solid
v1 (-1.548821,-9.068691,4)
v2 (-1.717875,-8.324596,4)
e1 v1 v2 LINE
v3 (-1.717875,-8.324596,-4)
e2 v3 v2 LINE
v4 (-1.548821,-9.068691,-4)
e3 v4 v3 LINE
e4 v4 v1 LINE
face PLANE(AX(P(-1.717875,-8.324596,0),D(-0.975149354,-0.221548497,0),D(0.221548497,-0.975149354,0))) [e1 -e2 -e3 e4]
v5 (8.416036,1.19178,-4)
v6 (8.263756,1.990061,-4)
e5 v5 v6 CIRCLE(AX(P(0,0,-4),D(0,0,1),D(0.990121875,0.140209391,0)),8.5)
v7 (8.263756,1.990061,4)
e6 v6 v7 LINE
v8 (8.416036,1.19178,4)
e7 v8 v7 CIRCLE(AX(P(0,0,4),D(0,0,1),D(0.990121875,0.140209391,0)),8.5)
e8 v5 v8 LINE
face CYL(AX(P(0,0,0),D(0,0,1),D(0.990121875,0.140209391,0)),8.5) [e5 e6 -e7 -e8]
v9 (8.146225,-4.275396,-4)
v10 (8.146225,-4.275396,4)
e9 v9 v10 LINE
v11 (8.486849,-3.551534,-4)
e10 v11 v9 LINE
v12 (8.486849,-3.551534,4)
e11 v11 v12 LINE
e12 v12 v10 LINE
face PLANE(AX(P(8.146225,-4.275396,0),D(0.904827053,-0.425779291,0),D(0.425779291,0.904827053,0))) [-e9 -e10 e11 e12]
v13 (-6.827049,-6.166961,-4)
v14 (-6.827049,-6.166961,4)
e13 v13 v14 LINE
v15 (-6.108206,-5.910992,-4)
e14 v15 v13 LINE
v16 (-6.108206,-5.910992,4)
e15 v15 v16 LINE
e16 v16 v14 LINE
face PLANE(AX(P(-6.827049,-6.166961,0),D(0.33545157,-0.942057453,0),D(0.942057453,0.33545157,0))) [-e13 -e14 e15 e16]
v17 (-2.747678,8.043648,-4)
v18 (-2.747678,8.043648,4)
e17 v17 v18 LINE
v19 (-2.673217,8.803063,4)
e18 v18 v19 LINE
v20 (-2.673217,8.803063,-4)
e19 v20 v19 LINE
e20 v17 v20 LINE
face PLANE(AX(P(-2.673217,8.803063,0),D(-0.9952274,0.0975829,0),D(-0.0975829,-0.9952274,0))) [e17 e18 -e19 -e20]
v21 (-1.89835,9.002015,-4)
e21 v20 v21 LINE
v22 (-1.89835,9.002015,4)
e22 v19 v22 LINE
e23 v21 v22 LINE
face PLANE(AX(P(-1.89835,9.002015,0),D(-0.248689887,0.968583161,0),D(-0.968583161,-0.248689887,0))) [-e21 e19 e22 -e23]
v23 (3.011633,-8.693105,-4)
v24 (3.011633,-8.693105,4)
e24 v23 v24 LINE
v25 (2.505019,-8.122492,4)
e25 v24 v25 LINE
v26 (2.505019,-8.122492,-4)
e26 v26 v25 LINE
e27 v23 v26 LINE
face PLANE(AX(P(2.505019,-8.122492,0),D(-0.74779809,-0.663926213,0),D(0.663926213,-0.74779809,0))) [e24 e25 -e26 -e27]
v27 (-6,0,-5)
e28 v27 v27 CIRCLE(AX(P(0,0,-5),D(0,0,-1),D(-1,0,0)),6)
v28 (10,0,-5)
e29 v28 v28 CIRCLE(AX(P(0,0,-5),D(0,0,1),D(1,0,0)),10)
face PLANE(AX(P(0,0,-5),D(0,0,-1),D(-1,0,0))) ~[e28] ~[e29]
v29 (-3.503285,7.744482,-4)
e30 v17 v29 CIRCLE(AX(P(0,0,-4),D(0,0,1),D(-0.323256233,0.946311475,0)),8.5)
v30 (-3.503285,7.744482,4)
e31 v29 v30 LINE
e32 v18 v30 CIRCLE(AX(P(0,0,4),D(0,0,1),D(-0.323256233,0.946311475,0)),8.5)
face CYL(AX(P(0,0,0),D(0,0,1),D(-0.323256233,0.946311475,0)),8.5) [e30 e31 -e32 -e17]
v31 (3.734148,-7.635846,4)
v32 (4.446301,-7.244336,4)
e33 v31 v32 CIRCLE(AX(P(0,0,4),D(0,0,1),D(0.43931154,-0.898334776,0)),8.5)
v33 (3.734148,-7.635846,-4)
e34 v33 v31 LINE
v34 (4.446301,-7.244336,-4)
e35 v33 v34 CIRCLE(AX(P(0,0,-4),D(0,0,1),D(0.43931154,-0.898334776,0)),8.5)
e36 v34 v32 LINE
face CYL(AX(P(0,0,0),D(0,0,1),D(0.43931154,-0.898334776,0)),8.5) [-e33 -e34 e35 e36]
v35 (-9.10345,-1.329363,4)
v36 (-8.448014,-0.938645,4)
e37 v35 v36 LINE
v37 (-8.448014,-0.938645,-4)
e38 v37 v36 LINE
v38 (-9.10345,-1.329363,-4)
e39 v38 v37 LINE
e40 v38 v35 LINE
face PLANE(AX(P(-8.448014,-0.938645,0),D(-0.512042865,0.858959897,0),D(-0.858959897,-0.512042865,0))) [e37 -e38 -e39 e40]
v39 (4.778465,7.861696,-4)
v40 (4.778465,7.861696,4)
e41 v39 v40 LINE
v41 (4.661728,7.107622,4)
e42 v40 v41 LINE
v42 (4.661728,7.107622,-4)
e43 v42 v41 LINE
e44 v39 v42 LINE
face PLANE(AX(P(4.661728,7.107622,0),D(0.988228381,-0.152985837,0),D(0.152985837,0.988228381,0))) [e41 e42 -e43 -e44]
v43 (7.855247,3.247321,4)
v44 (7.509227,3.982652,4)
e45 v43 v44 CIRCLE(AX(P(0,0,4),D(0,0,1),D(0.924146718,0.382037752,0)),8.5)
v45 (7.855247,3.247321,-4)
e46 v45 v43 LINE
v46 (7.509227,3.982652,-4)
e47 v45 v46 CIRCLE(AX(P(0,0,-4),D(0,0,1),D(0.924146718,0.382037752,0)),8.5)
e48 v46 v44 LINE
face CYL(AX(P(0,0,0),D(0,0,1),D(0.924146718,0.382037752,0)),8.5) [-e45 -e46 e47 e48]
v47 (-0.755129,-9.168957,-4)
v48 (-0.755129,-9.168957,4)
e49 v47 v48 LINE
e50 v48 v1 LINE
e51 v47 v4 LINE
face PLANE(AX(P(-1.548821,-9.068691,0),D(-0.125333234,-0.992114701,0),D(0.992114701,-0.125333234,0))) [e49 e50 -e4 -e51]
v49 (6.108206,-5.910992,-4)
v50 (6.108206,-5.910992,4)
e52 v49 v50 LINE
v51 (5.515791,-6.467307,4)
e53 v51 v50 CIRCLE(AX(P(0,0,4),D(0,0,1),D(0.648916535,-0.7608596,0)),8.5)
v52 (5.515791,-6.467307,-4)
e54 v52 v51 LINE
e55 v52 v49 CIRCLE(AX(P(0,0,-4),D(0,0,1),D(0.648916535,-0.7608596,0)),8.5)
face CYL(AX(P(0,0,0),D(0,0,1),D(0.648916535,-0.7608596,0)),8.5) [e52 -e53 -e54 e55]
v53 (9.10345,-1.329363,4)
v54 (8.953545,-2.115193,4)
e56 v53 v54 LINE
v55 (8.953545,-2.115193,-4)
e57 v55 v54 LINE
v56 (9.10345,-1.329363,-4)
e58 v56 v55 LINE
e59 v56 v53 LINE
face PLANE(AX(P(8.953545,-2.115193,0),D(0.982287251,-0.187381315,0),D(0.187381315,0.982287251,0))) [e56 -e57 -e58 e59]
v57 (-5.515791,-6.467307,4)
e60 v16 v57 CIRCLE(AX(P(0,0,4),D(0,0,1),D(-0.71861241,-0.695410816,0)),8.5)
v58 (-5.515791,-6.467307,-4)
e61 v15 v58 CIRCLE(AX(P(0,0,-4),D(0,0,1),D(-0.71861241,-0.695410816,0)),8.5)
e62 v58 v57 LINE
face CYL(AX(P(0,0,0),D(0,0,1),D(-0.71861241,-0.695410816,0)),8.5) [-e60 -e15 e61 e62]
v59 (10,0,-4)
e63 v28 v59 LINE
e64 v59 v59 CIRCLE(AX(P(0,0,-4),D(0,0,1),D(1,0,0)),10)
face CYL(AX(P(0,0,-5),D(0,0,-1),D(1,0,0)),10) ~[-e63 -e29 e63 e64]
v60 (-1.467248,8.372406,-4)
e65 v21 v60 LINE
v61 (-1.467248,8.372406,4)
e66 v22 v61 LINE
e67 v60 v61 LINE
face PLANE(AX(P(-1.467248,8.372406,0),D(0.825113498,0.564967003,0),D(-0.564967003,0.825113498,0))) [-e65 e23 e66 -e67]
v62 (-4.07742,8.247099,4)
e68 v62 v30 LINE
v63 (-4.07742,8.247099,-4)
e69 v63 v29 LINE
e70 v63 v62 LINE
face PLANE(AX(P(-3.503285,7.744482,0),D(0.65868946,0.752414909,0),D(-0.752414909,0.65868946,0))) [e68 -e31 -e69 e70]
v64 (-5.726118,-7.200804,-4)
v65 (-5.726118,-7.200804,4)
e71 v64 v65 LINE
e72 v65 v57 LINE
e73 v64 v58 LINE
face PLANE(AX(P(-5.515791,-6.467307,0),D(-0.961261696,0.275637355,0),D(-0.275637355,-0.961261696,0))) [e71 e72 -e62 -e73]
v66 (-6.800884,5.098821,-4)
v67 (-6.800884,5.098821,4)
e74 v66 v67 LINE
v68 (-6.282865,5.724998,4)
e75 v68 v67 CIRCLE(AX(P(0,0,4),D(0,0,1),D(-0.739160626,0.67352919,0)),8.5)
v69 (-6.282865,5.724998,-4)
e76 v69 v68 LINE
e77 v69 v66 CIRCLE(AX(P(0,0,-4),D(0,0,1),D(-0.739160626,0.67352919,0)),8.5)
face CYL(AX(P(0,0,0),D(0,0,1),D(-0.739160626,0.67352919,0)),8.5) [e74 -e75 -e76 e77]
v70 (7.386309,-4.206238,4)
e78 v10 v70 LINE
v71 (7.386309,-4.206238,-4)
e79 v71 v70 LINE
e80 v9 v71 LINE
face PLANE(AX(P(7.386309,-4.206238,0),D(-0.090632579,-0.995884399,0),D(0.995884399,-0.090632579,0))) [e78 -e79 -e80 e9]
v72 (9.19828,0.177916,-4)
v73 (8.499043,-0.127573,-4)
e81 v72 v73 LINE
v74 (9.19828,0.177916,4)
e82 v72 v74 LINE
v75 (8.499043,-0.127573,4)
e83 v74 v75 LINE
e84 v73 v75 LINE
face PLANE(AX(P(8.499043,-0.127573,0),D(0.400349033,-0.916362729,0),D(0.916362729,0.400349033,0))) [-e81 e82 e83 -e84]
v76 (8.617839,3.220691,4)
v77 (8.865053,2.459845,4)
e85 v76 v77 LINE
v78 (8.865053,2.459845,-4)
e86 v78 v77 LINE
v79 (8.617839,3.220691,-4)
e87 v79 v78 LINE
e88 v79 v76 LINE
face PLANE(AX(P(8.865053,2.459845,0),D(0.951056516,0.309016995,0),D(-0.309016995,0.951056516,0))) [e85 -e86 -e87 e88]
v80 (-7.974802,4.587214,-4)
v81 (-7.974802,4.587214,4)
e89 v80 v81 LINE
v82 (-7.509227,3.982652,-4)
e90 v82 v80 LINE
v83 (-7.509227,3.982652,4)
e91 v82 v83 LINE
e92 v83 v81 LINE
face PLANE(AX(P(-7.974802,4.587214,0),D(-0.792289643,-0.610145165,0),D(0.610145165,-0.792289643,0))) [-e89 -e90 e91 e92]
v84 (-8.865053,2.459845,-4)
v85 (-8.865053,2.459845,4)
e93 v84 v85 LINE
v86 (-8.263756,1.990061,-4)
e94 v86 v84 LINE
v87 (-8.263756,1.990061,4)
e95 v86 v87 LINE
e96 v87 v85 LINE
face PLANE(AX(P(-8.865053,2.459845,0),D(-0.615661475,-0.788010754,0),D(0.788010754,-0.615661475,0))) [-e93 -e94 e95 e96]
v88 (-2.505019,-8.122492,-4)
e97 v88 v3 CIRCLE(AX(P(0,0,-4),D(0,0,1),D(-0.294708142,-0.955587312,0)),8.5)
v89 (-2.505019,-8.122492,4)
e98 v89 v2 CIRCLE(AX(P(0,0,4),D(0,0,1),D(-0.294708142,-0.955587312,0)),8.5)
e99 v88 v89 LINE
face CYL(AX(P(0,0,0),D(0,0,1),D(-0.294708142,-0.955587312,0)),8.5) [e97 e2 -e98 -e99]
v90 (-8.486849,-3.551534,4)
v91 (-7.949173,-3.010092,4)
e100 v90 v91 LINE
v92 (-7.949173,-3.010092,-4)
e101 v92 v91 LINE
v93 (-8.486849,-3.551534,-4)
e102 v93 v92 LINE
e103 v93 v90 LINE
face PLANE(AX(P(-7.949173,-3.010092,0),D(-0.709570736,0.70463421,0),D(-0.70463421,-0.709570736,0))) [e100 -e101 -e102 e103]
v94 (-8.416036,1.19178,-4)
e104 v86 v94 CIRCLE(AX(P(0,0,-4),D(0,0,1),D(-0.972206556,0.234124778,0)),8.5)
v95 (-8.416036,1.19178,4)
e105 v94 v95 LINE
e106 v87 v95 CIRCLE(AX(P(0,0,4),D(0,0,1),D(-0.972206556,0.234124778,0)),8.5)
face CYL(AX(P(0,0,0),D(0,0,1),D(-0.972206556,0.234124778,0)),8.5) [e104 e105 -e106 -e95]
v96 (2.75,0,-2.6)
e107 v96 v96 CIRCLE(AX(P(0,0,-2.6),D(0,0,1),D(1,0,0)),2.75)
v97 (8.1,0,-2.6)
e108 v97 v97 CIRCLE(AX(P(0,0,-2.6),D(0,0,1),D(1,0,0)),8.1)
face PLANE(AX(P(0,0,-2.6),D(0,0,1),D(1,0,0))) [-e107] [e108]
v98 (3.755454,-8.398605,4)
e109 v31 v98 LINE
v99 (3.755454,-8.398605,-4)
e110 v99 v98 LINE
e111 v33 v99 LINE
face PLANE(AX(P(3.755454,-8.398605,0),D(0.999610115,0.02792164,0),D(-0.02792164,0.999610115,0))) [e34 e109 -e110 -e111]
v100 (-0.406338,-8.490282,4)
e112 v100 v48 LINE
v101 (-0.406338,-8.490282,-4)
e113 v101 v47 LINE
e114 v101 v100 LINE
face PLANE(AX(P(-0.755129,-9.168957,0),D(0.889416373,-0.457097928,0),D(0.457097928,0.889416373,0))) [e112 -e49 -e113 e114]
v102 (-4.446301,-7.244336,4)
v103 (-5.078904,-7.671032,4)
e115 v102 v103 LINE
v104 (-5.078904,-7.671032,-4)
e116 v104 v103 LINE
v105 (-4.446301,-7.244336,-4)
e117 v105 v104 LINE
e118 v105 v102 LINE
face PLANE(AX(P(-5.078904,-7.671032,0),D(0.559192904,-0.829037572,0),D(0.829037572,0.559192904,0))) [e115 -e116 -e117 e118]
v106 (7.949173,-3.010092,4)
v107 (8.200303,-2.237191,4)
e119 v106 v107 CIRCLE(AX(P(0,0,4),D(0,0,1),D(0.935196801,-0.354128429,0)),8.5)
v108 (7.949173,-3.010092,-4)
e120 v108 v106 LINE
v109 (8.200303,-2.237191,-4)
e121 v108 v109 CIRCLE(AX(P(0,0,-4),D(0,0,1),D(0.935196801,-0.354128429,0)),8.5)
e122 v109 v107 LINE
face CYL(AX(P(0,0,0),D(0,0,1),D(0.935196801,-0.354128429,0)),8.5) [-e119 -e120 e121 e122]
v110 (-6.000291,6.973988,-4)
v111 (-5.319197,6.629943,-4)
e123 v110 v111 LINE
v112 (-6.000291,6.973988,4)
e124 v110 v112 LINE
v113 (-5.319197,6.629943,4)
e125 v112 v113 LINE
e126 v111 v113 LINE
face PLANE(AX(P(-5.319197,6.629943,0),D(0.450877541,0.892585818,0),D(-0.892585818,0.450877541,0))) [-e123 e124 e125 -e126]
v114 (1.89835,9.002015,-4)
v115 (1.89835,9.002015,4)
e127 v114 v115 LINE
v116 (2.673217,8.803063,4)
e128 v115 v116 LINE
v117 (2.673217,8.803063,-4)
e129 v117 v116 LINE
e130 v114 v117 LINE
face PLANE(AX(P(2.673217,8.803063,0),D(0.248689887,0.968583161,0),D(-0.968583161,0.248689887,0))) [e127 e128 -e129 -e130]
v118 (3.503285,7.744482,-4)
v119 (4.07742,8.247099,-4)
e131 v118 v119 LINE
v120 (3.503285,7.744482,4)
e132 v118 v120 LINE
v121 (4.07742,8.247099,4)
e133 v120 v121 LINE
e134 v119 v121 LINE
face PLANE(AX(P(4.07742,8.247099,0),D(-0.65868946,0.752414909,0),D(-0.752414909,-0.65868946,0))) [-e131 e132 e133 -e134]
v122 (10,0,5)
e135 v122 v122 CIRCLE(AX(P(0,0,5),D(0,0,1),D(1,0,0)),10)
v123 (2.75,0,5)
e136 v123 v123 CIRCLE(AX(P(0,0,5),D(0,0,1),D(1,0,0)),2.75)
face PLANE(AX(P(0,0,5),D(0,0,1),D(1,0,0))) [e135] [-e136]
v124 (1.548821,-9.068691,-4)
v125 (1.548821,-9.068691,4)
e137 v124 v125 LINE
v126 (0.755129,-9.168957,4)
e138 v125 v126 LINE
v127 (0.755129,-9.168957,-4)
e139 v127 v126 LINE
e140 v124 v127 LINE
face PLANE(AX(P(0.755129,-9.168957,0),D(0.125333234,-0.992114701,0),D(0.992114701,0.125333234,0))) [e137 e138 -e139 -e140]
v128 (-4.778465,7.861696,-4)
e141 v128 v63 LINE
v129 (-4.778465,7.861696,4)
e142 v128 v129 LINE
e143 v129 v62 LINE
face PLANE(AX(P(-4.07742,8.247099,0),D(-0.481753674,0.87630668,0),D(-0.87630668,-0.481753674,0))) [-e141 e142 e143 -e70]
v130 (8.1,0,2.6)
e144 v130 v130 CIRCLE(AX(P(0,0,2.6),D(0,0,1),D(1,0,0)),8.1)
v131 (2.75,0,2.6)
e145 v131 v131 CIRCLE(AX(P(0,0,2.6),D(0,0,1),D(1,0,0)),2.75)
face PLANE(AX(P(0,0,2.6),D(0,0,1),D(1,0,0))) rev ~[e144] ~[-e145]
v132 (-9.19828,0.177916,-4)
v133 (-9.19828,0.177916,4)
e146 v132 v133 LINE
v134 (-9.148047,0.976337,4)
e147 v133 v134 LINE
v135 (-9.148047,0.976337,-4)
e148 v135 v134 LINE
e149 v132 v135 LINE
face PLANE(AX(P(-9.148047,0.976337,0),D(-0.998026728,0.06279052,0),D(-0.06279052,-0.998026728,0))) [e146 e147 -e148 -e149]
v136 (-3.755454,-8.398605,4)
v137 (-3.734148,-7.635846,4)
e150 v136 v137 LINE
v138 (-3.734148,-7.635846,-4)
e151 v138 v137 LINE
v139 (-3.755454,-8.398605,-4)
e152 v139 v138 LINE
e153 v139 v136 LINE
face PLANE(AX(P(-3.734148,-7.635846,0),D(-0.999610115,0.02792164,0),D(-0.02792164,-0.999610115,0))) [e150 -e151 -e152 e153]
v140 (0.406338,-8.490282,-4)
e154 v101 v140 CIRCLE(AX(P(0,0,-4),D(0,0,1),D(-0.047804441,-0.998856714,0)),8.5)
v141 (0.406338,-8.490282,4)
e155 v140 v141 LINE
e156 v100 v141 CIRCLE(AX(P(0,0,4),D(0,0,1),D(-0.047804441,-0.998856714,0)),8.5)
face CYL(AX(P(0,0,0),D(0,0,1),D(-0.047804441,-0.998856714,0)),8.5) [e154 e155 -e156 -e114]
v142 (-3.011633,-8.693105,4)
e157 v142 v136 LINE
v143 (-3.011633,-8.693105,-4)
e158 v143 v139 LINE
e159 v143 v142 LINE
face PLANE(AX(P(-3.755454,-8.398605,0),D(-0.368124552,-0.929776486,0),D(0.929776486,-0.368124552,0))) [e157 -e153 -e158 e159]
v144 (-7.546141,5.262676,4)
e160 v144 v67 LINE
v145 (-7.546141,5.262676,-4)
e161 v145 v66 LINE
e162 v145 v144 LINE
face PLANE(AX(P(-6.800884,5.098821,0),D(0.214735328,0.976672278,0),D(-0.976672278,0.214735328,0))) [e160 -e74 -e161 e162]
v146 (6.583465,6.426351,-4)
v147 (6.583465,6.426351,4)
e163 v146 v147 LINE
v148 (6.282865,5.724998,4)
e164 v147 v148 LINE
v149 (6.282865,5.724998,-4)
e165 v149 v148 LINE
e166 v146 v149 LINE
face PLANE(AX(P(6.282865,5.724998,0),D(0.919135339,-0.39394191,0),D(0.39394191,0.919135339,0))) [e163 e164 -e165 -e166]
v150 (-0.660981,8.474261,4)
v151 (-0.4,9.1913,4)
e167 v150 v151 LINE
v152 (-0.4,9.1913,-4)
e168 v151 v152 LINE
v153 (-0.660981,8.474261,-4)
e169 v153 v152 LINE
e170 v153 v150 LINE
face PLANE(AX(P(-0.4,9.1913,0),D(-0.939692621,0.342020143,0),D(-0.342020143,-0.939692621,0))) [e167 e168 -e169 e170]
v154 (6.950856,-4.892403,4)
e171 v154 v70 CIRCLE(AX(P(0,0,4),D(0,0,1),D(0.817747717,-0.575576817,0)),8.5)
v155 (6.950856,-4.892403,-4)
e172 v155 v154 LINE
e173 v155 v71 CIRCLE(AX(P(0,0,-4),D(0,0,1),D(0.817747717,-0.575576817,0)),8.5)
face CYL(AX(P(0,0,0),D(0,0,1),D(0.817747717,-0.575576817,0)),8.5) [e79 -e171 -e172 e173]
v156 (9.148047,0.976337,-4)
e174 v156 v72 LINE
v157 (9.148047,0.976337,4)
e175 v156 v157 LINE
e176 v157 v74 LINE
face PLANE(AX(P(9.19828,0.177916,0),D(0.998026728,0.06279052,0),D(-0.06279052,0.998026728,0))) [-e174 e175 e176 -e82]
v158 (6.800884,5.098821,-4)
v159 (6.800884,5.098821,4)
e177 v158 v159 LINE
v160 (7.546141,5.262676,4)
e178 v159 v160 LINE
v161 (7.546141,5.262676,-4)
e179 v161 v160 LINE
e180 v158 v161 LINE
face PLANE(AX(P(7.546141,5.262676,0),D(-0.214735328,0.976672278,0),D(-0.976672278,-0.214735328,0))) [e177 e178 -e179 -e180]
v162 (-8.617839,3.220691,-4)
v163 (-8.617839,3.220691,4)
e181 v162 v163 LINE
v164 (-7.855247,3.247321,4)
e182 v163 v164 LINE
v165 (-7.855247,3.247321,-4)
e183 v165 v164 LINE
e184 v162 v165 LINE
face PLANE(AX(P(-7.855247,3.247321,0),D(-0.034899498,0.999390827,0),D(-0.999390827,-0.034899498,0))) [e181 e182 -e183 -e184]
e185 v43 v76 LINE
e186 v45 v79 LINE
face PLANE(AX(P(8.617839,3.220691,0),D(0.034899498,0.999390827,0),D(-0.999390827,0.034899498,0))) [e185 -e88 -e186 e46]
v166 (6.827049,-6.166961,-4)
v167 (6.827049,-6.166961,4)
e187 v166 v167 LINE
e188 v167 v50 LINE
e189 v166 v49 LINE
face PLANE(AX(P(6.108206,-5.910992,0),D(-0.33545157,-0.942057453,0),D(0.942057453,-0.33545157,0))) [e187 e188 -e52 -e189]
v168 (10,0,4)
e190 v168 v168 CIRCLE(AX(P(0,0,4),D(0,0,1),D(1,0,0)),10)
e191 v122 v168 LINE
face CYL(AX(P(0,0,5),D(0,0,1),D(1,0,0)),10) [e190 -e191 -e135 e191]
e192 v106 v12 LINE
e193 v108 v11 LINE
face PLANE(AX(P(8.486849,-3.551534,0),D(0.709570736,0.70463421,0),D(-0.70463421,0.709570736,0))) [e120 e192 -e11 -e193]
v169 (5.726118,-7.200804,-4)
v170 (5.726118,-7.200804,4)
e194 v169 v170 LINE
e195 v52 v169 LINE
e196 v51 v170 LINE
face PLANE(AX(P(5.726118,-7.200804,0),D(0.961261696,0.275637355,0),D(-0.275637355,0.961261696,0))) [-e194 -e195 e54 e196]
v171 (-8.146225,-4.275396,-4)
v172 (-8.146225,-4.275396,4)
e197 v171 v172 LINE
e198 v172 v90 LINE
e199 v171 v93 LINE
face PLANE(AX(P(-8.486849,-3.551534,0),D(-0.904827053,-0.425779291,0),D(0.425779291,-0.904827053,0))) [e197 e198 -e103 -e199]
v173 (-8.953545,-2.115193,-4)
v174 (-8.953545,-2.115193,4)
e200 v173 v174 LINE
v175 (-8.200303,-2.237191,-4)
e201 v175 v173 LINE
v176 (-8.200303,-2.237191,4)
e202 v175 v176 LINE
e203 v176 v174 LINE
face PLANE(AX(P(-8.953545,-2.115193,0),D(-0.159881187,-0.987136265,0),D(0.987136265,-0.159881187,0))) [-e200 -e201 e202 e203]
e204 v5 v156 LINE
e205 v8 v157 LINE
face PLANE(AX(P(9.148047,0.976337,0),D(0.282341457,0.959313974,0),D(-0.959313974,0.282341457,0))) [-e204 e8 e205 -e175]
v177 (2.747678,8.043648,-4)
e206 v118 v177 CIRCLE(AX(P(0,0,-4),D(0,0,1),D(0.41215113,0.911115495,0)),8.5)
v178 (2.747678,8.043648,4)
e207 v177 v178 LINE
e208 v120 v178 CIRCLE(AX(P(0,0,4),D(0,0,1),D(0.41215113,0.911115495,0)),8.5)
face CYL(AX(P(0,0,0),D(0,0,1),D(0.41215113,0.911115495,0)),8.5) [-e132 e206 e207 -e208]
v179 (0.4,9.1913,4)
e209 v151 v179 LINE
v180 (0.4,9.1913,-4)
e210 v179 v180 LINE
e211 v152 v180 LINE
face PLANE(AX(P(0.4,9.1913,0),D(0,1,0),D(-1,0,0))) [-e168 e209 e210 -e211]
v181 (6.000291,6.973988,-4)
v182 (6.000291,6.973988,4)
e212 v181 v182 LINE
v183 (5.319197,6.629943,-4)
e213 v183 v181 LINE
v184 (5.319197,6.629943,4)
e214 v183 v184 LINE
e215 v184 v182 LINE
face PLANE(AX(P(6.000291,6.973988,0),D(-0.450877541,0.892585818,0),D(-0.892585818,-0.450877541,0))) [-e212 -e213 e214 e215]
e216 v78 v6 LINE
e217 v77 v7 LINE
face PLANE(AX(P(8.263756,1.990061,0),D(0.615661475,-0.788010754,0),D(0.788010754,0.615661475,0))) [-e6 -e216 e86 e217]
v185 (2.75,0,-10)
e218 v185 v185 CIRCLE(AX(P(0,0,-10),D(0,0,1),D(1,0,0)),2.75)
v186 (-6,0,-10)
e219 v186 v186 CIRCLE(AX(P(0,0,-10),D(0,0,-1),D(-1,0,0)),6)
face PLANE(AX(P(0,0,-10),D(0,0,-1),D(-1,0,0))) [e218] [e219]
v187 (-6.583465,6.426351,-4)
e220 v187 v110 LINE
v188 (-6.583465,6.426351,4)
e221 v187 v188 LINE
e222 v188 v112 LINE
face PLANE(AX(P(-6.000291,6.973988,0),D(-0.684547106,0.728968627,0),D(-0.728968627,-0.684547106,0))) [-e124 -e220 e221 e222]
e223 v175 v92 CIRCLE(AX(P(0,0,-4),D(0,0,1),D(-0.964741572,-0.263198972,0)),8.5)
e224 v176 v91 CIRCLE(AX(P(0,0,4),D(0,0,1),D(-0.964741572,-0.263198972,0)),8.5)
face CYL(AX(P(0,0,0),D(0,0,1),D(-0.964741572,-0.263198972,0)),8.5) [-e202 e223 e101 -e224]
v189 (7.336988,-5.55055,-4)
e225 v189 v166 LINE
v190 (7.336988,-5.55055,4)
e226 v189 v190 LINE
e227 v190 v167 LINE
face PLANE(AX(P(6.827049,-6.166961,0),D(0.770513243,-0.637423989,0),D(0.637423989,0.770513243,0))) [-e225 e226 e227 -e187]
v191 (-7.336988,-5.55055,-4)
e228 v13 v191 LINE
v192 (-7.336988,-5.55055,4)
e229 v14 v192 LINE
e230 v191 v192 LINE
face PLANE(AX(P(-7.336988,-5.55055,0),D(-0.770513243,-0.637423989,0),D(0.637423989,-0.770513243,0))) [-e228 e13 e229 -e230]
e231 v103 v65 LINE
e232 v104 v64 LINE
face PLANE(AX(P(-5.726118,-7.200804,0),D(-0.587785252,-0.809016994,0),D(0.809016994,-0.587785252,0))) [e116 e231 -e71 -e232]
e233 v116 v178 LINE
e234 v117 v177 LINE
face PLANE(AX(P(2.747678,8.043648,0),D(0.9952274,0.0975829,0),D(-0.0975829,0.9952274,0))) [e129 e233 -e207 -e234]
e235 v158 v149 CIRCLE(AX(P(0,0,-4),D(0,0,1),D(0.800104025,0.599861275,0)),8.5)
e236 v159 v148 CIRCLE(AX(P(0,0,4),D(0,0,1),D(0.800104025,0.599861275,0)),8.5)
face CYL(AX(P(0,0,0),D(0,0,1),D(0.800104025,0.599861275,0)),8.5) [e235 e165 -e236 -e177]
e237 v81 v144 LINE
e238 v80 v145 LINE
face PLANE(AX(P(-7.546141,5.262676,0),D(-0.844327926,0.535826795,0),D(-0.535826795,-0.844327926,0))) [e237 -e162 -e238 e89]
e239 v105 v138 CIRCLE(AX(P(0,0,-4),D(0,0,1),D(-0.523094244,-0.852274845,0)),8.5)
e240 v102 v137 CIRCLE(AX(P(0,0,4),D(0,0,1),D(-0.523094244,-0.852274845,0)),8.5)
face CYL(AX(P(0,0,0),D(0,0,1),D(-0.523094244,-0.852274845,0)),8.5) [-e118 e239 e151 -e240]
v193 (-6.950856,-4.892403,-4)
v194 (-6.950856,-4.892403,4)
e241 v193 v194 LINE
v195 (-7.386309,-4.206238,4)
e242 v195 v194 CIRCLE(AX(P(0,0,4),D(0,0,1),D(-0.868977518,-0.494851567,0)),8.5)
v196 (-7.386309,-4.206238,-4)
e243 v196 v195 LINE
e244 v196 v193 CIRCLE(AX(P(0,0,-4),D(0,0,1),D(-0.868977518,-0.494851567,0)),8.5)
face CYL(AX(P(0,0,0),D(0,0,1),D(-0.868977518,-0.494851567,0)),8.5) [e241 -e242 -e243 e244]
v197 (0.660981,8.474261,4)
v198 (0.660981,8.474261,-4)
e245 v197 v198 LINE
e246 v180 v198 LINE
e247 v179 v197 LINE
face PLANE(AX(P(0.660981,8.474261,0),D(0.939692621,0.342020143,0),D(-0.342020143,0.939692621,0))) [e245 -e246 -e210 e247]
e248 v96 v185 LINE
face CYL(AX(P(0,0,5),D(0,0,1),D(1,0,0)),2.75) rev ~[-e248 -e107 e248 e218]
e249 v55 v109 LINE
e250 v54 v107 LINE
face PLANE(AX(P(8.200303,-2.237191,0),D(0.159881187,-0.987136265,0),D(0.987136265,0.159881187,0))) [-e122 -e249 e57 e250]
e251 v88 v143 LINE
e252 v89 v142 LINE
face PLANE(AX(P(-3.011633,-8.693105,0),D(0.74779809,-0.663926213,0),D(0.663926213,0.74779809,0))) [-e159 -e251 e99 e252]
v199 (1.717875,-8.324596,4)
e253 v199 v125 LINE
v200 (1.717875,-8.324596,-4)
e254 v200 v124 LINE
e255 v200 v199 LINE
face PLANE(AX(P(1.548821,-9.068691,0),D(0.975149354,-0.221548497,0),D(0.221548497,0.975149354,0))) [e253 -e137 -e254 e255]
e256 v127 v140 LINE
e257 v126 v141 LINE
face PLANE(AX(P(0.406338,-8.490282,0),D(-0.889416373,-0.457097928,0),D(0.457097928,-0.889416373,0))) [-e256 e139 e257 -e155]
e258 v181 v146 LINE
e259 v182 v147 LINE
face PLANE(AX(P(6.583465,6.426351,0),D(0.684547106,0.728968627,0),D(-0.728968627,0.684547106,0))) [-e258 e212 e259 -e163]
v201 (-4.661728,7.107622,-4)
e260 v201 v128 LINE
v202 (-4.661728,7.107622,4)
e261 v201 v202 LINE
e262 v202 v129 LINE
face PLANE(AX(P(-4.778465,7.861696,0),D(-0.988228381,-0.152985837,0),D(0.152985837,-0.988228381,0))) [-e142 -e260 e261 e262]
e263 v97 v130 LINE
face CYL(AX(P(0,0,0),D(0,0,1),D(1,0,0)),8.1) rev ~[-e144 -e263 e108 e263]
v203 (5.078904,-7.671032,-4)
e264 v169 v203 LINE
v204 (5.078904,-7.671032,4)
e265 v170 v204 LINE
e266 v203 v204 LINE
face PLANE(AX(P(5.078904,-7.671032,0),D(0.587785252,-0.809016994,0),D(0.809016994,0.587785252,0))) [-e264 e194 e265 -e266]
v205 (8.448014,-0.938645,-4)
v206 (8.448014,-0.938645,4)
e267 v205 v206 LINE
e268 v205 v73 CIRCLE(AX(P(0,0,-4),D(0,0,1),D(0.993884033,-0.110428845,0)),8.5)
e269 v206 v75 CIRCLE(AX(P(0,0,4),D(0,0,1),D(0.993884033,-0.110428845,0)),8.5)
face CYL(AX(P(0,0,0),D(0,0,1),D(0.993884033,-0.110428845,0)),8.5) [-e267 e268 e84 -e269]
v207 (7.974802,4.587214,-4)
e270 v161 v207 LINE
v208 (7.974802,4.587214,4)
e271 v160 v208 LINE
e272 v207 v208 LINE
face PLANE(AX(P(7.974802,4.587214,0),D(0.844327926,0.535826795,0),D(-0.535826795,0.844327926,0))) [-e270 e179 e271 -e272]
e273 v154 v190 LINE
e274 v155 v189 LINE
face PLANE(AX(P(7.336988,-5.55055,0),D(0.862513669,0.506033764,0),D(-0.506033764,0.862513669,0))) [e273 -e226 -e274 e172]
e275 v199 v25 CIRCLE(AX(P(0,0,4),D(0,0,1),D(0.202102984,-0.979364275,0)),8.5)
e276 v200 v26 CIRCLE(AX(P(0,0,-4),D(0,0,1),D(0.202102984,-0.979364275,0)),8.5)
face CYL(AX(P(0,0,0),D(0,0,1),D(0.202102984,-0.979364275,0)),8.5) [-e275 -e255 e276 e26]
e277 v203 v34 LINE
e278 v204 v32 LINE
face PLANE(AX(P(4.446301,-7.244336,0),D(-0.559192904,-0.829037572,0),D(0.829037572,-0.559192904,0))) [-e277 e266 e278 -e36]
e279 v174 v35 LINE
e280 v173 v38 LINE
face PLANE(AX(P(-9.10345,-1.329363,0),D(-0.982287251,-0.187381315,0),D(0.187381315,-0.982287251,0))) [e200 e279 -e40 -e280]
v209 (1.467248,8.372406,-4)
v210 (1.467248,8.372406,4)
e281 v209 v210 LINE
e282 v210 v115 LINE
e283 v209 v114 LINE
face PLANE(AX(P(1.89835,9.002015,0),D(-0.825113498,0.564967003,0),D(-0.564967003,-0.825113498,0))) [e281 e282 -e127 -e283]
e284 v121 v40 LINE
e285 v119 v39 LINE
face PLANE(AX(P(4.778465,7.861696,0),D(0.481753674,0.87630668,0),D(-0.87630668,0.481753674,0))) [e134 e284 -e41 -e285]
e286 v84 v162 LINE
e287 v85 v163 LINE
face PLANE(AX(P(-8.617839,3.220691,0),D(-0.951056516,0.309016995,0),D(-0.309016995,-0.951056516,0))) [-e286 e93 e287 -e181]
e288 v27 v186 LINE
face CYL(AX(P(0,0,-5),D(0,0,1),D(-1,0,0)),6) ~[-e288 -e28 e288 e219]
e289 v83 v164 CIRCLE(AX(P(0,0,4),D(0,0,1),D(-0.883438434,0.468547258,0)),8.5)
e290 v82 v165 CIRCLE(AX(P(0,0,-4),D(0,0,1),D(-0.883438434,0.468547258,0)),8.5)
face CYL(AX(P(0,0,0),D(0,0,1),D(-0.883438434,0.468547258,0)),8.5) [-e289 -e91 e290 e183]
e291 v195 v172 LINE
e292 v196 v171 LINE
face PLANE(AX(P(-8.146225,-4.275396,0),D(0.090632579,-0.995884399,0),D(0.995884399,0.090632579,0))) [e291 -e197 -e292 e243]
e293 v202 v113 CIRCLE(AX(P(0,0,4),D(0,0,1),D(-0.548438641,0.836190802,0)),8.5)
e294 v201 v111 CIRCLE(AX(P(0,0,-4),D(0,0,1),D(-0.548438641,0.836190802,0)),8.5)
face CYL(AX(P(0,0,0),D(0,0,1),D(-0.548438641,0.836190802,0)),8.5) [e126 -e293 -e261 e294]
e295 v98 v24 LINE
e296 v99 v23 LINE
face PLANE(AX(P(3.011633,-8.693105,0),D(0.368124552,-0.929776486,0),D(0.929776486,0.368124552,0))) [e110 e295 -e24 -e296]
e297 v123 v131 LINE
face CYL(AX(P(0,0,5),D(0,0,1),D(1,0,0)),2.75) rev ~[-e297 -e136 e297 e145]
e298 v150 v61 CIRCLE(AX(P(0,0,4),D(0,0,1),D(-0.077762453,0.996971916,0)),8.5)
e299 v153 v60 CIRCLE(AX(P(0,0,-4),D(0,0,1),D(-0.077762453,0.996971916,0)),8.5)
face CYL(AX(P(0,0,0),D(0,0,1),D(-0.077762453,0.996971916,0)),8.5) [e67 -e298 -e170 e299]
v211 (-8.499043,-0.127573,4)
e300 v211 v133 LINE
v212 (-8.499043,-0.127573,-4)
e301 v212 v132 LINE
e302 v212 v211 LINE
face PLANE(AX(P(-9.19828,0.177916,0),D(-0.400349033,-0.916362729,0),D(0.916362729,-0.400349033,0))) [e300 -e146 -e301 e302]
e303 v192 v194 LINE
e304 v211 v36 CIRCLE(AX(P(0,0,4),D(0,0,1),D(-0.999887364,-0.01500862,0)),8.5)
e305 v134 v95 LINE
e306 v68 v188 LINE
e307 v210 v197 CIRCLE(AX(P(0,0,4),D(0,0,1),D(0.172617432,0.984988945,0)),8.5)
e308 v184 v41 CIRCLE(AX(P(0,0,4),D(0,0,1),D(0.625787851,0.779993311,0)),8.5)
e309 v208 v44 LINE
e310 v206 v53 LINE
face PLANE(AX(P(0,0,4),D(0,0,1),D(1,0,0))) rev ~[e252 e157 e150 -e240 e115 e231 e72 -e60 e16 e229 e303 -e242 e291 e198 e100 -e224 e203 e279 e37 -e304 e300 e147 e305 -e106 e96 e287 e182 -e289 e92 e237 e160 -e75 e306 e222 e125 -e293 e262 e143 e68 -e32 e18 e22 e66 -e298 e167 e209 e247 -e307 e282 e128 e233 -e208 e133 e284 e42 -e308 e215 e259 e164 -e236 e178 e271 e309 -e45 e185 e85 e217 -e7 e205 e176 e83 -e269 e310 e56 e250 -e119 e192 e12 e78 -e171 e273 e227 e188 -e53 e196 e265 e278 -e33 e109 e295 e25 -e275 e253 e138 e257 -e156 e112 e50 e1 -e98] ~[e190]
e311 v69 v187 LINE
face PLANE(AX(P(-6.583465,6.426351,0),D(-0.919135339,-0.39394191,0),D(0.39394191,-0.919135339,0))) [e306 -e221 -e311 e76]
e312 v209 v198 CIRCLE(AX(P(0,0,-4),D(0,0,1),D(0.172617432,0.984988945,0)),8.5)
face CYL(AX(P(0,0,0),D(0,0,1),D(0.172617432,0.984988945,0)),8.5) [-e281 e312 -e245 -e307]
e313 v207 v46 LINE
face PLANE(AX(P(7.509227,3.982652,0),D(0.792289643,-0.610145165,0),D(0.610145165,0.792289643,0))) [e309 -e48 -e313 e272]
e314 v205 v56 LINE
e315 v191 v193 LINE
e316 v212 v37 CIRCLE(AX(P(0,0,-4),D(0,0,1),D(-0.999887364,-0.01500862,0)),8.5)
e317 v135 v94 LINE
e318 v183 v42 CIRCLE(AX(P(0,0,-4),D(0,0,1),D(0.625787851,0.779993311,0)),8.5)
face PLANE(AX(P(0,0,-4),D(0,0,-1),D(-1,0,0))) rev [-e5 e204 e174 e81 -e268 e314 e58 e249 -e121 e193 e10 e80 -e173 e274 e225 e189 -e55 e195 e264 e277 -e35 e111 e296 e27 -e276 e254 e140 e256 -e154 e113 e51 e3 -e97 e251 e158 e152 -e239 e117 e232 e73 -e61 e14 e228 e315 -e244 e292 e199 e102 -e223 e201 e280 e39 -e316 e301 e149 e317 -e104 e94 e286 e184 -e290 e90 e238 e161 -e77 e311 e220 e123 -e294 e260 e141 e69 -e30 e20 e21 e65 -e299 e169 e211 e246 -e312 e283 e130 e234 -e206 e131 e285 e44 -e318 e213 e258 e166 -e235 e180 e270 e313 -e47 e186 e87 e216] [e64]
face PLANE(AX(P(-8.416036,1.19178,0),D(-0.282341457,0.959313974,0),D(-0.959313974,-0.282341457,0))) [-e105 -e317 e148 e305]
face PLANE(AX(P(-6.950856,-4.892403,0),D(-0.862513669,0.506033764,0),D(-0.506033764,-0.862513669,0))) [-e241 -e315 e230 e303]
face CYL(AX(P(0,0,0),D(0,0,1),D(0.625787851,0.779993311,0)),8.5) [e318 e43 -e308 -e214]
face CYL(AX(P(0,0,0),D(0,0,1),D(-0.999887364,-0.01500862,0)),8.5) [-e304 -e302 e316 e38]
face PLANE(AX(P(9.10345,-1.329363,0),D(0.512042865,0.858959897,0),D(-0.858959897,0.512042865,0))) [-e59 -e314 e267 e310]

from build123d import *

# Parameters (mm, degrees)
BOSS_EXTRUDE1_DEPTH = 5
SKETCH2_R           = 10
BOSS_EXTRUDE2_DEPTH = 1
SKETCH4_R           = 6
BOSS_EXTRUDE3_DEPTH = 5
CUT_EXTRUDE1_REACH  = 17
SKETCH5_R           = 2.75
SKETCH7_R           = 8.1
CUT_EXTRUDE2_DEPTH  = 2.6


with BuildPart() as part:
    # Sketch1 → Boss-Extrude1 (new body, symmetric)
    with BuildSketch(Plane.XY):
        with BuildLine():
            Line((-0.4, 9.191300234), (-0.660980834, 8.474261286))
            ThreePointArc((-0.660980834, 8.474261286), (-1.065332485, 8.432974961), (-1.467248177, 8.372406033))
            Line((-1.467248177, 8.372406033), (-1.898350154, 9.002014591))
            Line((-1.898350154, 9.002014591), (-2.673216683, 8.803062681))
            Line((-2.673216683, 8.803062681), (-2.747677989, 8.043647535))
            ThreePointArc((-2.747677989, 8.043647535), (-3.129058698, 7.90310013), (-3.503284589, 7.744481718))
            Line((-3.503284589, 7.744481718), (-4.077419986, 8.247099263))
            Line((-4.077419986, 8.247099263), (-4.77846533, 7.861696324))
            Line((-4.77846533, 7.861696324), (-4.66172843, 7.107621828))
            ThreePointArc((-4.66172843, 7.107621828), (-4.996174644, 6.876644452), (-5.319196746, 6.629943135))
            Line((-5.319196746, 6.629943135), (-6.000290524, 6.973988359))
            Line((-6.000290524, 6.973988359), (-6.583465426, 6.426350674))
            Line((-6.583465426, 6.426350674), (-6.282865329, 5.724998101))
            ThreePointArc((-6.282865329, 5.724998101), (-6.549362564, 5.418103913), (-6.80088421, 5.098820841))
            Line((-6.80088421, 5.098820841), (-7.546140742, 5.262676117))
            Line((-7.546140742, 5.262676117), (-7.974802178, 4.587213776))
            Line((-7.974802178, 4.587213776), (-7.509226693, 3.982651688))
            ThreePointArc((-7.509226693, 3.982651688), (-7.691029946, 3.619123978), (-7.855247106, 3.247320882))
            Line((-7.855247106, 3.247320882), (-8.617839183, 3.220690579))
            Line((-8.617839183, 3.220690579), (-8.865052779, 2.459845366))
            Line((-8.865052779, 2.459845366), (-8.263755727, 1.990060623))
            ThreePointArc((-8.263755727, 1.990060623), (-8.349441631, 1.592741174), (-8.416035937, 1.191779808))
            Line((-8.416035937, 1.191779808), (-9.148047095, 0.976337208))
            Line((-9.148047095, 0.976337208), (-9.198279511, 0.177915826))
            Line((-9.198279511, 0.177915826), (-8.499042597, -0.127573271))
            ThreePointArc((-8.499042597, -0.127573271), (-8.483227192, -0.533719416), (-8.448014278, -0.938645173))
            Line((-8.448014278, -0.938645173), (-9.103449564, -1.32936302))
            Line((-9.103449564, -1.32936302), (-8.953544512, -2.115192821))
            Line((-8.953544512, -2.115192821), (-8.200303363, -2.237191266))
            ThreePointArc((-8.200303363, -2.237191266), (-8.083980389, -2.626644452), (-7.949172812, -3.010091627))
            Line((-7.949172812, -3.010091627), (-8.486848816, -3.551534481))
            Line((-8.486848816, -3.551534481), (-8.146225383, -4.275396123))
            Line((-8.146225383, -4.275396123), (-7.38630891, -4.206238307))
            ThreePointArc((-7.38630891, -4.206238307), (-7.176787367, -4.554527757), (-6.950855584, -4.892402953))
            Line((-6.950855584, -4.892402953), (-7.336988145, -5.550549969))
            Line((-7.336988145, -5.550549969), (-6.827048953, -6.166960564))
            Line((-6.827048953, -6.166960564), (-6.108205503, -5.910991925))
            ThreePointArc((-6.108205503, -5.910991925), (-5.8186504, -6.196233333), (-5.515790536, -6.467306608))
            Line((-5.515790536, -6.467306608), (-5.726117525, -7.200803989))
            Line((-5.726117525, -7.200803989), (-5.078903929, -7.671032191))
            Line((-5.078903929, -7.671032191), (-4.44630108, -7.244336181))
            ThreePointArc((-4.44630108, -7.244336181), (-4.09490623, -7.44860678), (-3.734148082, -7.635845605))
            Line((-3.734148082, -7.635845605), (-3.755453882, -8.398605012))
            Line((-3.755453882, -8.398605012), (-3.011632693, -8.693104654))
            Line((-3.011632693, -8.693104654), (-2.505019208, -8.122492153))
            ThreePointArc((-2.505019208, -8.122492153), (-2.113864041, -8.23295687), (-1.717875372, -8.324596339))
            Line((-1.717875372, -8.324596339), (-1.54882126, -9.068690793))
            Line((-1.54882126, -9.068690793), (-0.755129499, -9.16895738))
            Line((-0.755129499, -9.16895738), (-0.406337766, -8.49028207))
            ThreePointArc((-0.406337766, -8.49028207), (0, -8.5), (0.406337766, -8.49028207))
            Line((0.406337766, -8.49028207), (0.755129499, -9.16895738))
            Line((0.755129499, -9.16895738), (1.54882126, -9.068690793))
            Line((1.54882126, -9.068690793), (1.717875372, -8.324596339))
            ThreePointArc((1.717875372, -8.324596339), (2.113864041, -8.23295687), (2.505019208, -8.122492153))
            Line((2.505019208, -8.122492153), (3.011632693, -8.693104654))
            Line((3.011632693, -8.693104654), (3.755453882, -8.398605012))
            Line((3.755453882, -8.398605012), (3.734148082, -7.635845605))
            ThreePointArc((3.734148082, -7.635845605), (4.09490623, -7.44860678), (4.44630108, -7.244336181))
            Line((4.44630108, -7.244336181), (5.078903929, -7.671032191))
            Line((5.078903929, -7.671032191), (5.726117525, -7.200803989))
            Line((5.726117525, -7.200803989), (5.515790536, -6.467306608))
            ThreePointArc((5.515790536, -6.467306608), (5.8186504, -6.196233333), (6.108205503, -5.910991925))
            Line((6.108205503, -5.910991925), (6.827048953, -6.166960564))
            Line((6.827048953, -6.166960564), (7.336988145, -5.550549969))
            Line((7.336988145, -5.550549969), (6.950855584, -4.892402953))
            ThreePointArc((6.950855584, -4.892402953), (7.176787367, -4.554527757), (7.38630891, -4.206238307))
            Line((7.38630891, -4.206238307), (8.146225383, -4.275396123))
            Line((8.146225383, -4.275396123), (8.486848816, -3.551534481))
            Line((8.486848816, -3.551534481), (7.949172812, -3.010091627))
            ThreePointArc((7.949172812, -3.010091627), (8.083980389, -2.626644452), (8.200303363, -2.237191266))
            Line((8.200303363, -2.237191266), (8.953544512, -2.115192821))
            Line((8.953544512, -2.115192821), (9.103449564, -1.32936302))
            Line((9.103449564, -1.32936302), (8.448014278, -0.938645173))
            ThreePointArc((8.448014278, -0.938645173), (8.483227192, -0.533719416), (8.499042597, -0.127573271))
            Line((8.499042597, -0.127573271), (9.198279511, 0.177915826))
            Line((9.198279511, 0.177915826), (9.148047095, 0.976337208))
            Line((9.148047095, 0.976337208), (8.416035937, 1.191779808))
            ThreePointArc((8.416035937, 1.191779808), (8.349441631, 1.592741174), (8.263755727, 1.990060623))
            Line((8.263755727, 1.990060623), (8.865052779, 2.459845366))
            Line((8.865052779, 2.459845366), (8.617839183, 3.220690579))
            Line((8.617839183, 3.220690579), (7.855247106, 3.247320882))
            ThreePointArc((7.855247106, 3.247320882), (7.691029946, 3.619123978), (7.509226693, 3.982651688))
            Line((7.509226693, 3.982651688), (7.974802178, 4.587213776))
            Line((7.974802178, 4.587213776), (7.546140742, 5.262676117))
            Line((7.546140742, 5.262676117), (6.80088421, 5.098820841))
            ThreePointArc((6.80088421, 5.098820841), (6.549362564, 5.418103913), (6.282865329, 5.724998101))
            Line((6.282865329, 5.724998101), (6.583465426, 6.426350674))
            Line((6.583465426, 6.426350674), (6.000290524, 6.973988359))
            Line((6.000290524, 6.973988359), (5.319196746, 6.629943135))
            ThreePointArc((5.319196746, 6.629943135), (4.996174644, 6.876644452), (4.66172843, 7.107621828))
            Line((4.66172843, 7.107621828), (4.77846533, 7.861696324))
            Line((4.77846533, 7.861696324), (4.077419986, 8.247099263))
            Line((4.077419986, 8.247099263), (3.503284589, 7.744481718))
            ThreePointArc((3.503284589, 7.744481718), (3.129058698, 7.90310013), (2.747677989, 8.043647535))
            Line((2.747677989, 8.043647535), (2.673216683, 8.803062681))
            Line((2.673216683, 8.803062681), (1.898350154, 9.002014591))
            Line((1.898350154, 9.002014591), (1.467248177, 8.372406033))
            ThreePointArc((1.467248177, 8.372406033), (1.065332485, 8.432974961), (0.660980834, 8.474261286))
            Line((0.660980834, 8.474261286), (0.4, 9.191300234))
            Line((0.4, 9.191300234), (-0.4, 9.191300234))
        make_face()
    extrude(amount=BOSS_EXTRUDE1_DEPTH, both=True)

    # Sketch2 → Boss-Extrude2 (add)
    with BuildSketch(Plane.XY.offset(5)):
        Circle(SKETCH2_R)
    boss_extrude2 = extrude(amount=-BOSS_EXTRUDE2_DEPTH)

    # Mirror1: Boss-Extrude2 across plane
    add(boss_extrude2.mirror(Plane.XY))

    # Sketch4 → Boss-Extrude3 (add)
    with BuildSketch(Plane(origin=(0, 0, -5), x_dir=(-1, 0, 0), z_dir=(0, 0, -1))):
        Circle(SKETCH4_R)
    extrude(amount=BOSS_EXTRUDE3_DEPTH)

    # Sketch5 → Cut-Extrude1 (cut, up to next)
    with BuildSketch(Plane.XY.offset(5), mode=Mode.PRIVATE) as cut_extrude1_sk1:
        Circle(SKETCH5_R)
    cut_extrude1_tool1 = extrude(cut_extrude1_sk1.sketch, amount=-CUT_EXTRUDE1_REACH, mode=Mode.PRIVATE) & part.part
    add(cut_extrude1_tool1.solids().sort_by_distance((0, 0, 5))[0], mode=Mode.SUBTRACT)

    # Sketch7 → Cut-Extrude2 (cut, symmetric)
    with BuildSketch(Plane.XY):
        Circle(SKETCH7_R)
    extrude(amount=CUT_EXTRUDE2_DEPTH, both=True, mode=Mode.SUBTRACT)


solid = part.part
